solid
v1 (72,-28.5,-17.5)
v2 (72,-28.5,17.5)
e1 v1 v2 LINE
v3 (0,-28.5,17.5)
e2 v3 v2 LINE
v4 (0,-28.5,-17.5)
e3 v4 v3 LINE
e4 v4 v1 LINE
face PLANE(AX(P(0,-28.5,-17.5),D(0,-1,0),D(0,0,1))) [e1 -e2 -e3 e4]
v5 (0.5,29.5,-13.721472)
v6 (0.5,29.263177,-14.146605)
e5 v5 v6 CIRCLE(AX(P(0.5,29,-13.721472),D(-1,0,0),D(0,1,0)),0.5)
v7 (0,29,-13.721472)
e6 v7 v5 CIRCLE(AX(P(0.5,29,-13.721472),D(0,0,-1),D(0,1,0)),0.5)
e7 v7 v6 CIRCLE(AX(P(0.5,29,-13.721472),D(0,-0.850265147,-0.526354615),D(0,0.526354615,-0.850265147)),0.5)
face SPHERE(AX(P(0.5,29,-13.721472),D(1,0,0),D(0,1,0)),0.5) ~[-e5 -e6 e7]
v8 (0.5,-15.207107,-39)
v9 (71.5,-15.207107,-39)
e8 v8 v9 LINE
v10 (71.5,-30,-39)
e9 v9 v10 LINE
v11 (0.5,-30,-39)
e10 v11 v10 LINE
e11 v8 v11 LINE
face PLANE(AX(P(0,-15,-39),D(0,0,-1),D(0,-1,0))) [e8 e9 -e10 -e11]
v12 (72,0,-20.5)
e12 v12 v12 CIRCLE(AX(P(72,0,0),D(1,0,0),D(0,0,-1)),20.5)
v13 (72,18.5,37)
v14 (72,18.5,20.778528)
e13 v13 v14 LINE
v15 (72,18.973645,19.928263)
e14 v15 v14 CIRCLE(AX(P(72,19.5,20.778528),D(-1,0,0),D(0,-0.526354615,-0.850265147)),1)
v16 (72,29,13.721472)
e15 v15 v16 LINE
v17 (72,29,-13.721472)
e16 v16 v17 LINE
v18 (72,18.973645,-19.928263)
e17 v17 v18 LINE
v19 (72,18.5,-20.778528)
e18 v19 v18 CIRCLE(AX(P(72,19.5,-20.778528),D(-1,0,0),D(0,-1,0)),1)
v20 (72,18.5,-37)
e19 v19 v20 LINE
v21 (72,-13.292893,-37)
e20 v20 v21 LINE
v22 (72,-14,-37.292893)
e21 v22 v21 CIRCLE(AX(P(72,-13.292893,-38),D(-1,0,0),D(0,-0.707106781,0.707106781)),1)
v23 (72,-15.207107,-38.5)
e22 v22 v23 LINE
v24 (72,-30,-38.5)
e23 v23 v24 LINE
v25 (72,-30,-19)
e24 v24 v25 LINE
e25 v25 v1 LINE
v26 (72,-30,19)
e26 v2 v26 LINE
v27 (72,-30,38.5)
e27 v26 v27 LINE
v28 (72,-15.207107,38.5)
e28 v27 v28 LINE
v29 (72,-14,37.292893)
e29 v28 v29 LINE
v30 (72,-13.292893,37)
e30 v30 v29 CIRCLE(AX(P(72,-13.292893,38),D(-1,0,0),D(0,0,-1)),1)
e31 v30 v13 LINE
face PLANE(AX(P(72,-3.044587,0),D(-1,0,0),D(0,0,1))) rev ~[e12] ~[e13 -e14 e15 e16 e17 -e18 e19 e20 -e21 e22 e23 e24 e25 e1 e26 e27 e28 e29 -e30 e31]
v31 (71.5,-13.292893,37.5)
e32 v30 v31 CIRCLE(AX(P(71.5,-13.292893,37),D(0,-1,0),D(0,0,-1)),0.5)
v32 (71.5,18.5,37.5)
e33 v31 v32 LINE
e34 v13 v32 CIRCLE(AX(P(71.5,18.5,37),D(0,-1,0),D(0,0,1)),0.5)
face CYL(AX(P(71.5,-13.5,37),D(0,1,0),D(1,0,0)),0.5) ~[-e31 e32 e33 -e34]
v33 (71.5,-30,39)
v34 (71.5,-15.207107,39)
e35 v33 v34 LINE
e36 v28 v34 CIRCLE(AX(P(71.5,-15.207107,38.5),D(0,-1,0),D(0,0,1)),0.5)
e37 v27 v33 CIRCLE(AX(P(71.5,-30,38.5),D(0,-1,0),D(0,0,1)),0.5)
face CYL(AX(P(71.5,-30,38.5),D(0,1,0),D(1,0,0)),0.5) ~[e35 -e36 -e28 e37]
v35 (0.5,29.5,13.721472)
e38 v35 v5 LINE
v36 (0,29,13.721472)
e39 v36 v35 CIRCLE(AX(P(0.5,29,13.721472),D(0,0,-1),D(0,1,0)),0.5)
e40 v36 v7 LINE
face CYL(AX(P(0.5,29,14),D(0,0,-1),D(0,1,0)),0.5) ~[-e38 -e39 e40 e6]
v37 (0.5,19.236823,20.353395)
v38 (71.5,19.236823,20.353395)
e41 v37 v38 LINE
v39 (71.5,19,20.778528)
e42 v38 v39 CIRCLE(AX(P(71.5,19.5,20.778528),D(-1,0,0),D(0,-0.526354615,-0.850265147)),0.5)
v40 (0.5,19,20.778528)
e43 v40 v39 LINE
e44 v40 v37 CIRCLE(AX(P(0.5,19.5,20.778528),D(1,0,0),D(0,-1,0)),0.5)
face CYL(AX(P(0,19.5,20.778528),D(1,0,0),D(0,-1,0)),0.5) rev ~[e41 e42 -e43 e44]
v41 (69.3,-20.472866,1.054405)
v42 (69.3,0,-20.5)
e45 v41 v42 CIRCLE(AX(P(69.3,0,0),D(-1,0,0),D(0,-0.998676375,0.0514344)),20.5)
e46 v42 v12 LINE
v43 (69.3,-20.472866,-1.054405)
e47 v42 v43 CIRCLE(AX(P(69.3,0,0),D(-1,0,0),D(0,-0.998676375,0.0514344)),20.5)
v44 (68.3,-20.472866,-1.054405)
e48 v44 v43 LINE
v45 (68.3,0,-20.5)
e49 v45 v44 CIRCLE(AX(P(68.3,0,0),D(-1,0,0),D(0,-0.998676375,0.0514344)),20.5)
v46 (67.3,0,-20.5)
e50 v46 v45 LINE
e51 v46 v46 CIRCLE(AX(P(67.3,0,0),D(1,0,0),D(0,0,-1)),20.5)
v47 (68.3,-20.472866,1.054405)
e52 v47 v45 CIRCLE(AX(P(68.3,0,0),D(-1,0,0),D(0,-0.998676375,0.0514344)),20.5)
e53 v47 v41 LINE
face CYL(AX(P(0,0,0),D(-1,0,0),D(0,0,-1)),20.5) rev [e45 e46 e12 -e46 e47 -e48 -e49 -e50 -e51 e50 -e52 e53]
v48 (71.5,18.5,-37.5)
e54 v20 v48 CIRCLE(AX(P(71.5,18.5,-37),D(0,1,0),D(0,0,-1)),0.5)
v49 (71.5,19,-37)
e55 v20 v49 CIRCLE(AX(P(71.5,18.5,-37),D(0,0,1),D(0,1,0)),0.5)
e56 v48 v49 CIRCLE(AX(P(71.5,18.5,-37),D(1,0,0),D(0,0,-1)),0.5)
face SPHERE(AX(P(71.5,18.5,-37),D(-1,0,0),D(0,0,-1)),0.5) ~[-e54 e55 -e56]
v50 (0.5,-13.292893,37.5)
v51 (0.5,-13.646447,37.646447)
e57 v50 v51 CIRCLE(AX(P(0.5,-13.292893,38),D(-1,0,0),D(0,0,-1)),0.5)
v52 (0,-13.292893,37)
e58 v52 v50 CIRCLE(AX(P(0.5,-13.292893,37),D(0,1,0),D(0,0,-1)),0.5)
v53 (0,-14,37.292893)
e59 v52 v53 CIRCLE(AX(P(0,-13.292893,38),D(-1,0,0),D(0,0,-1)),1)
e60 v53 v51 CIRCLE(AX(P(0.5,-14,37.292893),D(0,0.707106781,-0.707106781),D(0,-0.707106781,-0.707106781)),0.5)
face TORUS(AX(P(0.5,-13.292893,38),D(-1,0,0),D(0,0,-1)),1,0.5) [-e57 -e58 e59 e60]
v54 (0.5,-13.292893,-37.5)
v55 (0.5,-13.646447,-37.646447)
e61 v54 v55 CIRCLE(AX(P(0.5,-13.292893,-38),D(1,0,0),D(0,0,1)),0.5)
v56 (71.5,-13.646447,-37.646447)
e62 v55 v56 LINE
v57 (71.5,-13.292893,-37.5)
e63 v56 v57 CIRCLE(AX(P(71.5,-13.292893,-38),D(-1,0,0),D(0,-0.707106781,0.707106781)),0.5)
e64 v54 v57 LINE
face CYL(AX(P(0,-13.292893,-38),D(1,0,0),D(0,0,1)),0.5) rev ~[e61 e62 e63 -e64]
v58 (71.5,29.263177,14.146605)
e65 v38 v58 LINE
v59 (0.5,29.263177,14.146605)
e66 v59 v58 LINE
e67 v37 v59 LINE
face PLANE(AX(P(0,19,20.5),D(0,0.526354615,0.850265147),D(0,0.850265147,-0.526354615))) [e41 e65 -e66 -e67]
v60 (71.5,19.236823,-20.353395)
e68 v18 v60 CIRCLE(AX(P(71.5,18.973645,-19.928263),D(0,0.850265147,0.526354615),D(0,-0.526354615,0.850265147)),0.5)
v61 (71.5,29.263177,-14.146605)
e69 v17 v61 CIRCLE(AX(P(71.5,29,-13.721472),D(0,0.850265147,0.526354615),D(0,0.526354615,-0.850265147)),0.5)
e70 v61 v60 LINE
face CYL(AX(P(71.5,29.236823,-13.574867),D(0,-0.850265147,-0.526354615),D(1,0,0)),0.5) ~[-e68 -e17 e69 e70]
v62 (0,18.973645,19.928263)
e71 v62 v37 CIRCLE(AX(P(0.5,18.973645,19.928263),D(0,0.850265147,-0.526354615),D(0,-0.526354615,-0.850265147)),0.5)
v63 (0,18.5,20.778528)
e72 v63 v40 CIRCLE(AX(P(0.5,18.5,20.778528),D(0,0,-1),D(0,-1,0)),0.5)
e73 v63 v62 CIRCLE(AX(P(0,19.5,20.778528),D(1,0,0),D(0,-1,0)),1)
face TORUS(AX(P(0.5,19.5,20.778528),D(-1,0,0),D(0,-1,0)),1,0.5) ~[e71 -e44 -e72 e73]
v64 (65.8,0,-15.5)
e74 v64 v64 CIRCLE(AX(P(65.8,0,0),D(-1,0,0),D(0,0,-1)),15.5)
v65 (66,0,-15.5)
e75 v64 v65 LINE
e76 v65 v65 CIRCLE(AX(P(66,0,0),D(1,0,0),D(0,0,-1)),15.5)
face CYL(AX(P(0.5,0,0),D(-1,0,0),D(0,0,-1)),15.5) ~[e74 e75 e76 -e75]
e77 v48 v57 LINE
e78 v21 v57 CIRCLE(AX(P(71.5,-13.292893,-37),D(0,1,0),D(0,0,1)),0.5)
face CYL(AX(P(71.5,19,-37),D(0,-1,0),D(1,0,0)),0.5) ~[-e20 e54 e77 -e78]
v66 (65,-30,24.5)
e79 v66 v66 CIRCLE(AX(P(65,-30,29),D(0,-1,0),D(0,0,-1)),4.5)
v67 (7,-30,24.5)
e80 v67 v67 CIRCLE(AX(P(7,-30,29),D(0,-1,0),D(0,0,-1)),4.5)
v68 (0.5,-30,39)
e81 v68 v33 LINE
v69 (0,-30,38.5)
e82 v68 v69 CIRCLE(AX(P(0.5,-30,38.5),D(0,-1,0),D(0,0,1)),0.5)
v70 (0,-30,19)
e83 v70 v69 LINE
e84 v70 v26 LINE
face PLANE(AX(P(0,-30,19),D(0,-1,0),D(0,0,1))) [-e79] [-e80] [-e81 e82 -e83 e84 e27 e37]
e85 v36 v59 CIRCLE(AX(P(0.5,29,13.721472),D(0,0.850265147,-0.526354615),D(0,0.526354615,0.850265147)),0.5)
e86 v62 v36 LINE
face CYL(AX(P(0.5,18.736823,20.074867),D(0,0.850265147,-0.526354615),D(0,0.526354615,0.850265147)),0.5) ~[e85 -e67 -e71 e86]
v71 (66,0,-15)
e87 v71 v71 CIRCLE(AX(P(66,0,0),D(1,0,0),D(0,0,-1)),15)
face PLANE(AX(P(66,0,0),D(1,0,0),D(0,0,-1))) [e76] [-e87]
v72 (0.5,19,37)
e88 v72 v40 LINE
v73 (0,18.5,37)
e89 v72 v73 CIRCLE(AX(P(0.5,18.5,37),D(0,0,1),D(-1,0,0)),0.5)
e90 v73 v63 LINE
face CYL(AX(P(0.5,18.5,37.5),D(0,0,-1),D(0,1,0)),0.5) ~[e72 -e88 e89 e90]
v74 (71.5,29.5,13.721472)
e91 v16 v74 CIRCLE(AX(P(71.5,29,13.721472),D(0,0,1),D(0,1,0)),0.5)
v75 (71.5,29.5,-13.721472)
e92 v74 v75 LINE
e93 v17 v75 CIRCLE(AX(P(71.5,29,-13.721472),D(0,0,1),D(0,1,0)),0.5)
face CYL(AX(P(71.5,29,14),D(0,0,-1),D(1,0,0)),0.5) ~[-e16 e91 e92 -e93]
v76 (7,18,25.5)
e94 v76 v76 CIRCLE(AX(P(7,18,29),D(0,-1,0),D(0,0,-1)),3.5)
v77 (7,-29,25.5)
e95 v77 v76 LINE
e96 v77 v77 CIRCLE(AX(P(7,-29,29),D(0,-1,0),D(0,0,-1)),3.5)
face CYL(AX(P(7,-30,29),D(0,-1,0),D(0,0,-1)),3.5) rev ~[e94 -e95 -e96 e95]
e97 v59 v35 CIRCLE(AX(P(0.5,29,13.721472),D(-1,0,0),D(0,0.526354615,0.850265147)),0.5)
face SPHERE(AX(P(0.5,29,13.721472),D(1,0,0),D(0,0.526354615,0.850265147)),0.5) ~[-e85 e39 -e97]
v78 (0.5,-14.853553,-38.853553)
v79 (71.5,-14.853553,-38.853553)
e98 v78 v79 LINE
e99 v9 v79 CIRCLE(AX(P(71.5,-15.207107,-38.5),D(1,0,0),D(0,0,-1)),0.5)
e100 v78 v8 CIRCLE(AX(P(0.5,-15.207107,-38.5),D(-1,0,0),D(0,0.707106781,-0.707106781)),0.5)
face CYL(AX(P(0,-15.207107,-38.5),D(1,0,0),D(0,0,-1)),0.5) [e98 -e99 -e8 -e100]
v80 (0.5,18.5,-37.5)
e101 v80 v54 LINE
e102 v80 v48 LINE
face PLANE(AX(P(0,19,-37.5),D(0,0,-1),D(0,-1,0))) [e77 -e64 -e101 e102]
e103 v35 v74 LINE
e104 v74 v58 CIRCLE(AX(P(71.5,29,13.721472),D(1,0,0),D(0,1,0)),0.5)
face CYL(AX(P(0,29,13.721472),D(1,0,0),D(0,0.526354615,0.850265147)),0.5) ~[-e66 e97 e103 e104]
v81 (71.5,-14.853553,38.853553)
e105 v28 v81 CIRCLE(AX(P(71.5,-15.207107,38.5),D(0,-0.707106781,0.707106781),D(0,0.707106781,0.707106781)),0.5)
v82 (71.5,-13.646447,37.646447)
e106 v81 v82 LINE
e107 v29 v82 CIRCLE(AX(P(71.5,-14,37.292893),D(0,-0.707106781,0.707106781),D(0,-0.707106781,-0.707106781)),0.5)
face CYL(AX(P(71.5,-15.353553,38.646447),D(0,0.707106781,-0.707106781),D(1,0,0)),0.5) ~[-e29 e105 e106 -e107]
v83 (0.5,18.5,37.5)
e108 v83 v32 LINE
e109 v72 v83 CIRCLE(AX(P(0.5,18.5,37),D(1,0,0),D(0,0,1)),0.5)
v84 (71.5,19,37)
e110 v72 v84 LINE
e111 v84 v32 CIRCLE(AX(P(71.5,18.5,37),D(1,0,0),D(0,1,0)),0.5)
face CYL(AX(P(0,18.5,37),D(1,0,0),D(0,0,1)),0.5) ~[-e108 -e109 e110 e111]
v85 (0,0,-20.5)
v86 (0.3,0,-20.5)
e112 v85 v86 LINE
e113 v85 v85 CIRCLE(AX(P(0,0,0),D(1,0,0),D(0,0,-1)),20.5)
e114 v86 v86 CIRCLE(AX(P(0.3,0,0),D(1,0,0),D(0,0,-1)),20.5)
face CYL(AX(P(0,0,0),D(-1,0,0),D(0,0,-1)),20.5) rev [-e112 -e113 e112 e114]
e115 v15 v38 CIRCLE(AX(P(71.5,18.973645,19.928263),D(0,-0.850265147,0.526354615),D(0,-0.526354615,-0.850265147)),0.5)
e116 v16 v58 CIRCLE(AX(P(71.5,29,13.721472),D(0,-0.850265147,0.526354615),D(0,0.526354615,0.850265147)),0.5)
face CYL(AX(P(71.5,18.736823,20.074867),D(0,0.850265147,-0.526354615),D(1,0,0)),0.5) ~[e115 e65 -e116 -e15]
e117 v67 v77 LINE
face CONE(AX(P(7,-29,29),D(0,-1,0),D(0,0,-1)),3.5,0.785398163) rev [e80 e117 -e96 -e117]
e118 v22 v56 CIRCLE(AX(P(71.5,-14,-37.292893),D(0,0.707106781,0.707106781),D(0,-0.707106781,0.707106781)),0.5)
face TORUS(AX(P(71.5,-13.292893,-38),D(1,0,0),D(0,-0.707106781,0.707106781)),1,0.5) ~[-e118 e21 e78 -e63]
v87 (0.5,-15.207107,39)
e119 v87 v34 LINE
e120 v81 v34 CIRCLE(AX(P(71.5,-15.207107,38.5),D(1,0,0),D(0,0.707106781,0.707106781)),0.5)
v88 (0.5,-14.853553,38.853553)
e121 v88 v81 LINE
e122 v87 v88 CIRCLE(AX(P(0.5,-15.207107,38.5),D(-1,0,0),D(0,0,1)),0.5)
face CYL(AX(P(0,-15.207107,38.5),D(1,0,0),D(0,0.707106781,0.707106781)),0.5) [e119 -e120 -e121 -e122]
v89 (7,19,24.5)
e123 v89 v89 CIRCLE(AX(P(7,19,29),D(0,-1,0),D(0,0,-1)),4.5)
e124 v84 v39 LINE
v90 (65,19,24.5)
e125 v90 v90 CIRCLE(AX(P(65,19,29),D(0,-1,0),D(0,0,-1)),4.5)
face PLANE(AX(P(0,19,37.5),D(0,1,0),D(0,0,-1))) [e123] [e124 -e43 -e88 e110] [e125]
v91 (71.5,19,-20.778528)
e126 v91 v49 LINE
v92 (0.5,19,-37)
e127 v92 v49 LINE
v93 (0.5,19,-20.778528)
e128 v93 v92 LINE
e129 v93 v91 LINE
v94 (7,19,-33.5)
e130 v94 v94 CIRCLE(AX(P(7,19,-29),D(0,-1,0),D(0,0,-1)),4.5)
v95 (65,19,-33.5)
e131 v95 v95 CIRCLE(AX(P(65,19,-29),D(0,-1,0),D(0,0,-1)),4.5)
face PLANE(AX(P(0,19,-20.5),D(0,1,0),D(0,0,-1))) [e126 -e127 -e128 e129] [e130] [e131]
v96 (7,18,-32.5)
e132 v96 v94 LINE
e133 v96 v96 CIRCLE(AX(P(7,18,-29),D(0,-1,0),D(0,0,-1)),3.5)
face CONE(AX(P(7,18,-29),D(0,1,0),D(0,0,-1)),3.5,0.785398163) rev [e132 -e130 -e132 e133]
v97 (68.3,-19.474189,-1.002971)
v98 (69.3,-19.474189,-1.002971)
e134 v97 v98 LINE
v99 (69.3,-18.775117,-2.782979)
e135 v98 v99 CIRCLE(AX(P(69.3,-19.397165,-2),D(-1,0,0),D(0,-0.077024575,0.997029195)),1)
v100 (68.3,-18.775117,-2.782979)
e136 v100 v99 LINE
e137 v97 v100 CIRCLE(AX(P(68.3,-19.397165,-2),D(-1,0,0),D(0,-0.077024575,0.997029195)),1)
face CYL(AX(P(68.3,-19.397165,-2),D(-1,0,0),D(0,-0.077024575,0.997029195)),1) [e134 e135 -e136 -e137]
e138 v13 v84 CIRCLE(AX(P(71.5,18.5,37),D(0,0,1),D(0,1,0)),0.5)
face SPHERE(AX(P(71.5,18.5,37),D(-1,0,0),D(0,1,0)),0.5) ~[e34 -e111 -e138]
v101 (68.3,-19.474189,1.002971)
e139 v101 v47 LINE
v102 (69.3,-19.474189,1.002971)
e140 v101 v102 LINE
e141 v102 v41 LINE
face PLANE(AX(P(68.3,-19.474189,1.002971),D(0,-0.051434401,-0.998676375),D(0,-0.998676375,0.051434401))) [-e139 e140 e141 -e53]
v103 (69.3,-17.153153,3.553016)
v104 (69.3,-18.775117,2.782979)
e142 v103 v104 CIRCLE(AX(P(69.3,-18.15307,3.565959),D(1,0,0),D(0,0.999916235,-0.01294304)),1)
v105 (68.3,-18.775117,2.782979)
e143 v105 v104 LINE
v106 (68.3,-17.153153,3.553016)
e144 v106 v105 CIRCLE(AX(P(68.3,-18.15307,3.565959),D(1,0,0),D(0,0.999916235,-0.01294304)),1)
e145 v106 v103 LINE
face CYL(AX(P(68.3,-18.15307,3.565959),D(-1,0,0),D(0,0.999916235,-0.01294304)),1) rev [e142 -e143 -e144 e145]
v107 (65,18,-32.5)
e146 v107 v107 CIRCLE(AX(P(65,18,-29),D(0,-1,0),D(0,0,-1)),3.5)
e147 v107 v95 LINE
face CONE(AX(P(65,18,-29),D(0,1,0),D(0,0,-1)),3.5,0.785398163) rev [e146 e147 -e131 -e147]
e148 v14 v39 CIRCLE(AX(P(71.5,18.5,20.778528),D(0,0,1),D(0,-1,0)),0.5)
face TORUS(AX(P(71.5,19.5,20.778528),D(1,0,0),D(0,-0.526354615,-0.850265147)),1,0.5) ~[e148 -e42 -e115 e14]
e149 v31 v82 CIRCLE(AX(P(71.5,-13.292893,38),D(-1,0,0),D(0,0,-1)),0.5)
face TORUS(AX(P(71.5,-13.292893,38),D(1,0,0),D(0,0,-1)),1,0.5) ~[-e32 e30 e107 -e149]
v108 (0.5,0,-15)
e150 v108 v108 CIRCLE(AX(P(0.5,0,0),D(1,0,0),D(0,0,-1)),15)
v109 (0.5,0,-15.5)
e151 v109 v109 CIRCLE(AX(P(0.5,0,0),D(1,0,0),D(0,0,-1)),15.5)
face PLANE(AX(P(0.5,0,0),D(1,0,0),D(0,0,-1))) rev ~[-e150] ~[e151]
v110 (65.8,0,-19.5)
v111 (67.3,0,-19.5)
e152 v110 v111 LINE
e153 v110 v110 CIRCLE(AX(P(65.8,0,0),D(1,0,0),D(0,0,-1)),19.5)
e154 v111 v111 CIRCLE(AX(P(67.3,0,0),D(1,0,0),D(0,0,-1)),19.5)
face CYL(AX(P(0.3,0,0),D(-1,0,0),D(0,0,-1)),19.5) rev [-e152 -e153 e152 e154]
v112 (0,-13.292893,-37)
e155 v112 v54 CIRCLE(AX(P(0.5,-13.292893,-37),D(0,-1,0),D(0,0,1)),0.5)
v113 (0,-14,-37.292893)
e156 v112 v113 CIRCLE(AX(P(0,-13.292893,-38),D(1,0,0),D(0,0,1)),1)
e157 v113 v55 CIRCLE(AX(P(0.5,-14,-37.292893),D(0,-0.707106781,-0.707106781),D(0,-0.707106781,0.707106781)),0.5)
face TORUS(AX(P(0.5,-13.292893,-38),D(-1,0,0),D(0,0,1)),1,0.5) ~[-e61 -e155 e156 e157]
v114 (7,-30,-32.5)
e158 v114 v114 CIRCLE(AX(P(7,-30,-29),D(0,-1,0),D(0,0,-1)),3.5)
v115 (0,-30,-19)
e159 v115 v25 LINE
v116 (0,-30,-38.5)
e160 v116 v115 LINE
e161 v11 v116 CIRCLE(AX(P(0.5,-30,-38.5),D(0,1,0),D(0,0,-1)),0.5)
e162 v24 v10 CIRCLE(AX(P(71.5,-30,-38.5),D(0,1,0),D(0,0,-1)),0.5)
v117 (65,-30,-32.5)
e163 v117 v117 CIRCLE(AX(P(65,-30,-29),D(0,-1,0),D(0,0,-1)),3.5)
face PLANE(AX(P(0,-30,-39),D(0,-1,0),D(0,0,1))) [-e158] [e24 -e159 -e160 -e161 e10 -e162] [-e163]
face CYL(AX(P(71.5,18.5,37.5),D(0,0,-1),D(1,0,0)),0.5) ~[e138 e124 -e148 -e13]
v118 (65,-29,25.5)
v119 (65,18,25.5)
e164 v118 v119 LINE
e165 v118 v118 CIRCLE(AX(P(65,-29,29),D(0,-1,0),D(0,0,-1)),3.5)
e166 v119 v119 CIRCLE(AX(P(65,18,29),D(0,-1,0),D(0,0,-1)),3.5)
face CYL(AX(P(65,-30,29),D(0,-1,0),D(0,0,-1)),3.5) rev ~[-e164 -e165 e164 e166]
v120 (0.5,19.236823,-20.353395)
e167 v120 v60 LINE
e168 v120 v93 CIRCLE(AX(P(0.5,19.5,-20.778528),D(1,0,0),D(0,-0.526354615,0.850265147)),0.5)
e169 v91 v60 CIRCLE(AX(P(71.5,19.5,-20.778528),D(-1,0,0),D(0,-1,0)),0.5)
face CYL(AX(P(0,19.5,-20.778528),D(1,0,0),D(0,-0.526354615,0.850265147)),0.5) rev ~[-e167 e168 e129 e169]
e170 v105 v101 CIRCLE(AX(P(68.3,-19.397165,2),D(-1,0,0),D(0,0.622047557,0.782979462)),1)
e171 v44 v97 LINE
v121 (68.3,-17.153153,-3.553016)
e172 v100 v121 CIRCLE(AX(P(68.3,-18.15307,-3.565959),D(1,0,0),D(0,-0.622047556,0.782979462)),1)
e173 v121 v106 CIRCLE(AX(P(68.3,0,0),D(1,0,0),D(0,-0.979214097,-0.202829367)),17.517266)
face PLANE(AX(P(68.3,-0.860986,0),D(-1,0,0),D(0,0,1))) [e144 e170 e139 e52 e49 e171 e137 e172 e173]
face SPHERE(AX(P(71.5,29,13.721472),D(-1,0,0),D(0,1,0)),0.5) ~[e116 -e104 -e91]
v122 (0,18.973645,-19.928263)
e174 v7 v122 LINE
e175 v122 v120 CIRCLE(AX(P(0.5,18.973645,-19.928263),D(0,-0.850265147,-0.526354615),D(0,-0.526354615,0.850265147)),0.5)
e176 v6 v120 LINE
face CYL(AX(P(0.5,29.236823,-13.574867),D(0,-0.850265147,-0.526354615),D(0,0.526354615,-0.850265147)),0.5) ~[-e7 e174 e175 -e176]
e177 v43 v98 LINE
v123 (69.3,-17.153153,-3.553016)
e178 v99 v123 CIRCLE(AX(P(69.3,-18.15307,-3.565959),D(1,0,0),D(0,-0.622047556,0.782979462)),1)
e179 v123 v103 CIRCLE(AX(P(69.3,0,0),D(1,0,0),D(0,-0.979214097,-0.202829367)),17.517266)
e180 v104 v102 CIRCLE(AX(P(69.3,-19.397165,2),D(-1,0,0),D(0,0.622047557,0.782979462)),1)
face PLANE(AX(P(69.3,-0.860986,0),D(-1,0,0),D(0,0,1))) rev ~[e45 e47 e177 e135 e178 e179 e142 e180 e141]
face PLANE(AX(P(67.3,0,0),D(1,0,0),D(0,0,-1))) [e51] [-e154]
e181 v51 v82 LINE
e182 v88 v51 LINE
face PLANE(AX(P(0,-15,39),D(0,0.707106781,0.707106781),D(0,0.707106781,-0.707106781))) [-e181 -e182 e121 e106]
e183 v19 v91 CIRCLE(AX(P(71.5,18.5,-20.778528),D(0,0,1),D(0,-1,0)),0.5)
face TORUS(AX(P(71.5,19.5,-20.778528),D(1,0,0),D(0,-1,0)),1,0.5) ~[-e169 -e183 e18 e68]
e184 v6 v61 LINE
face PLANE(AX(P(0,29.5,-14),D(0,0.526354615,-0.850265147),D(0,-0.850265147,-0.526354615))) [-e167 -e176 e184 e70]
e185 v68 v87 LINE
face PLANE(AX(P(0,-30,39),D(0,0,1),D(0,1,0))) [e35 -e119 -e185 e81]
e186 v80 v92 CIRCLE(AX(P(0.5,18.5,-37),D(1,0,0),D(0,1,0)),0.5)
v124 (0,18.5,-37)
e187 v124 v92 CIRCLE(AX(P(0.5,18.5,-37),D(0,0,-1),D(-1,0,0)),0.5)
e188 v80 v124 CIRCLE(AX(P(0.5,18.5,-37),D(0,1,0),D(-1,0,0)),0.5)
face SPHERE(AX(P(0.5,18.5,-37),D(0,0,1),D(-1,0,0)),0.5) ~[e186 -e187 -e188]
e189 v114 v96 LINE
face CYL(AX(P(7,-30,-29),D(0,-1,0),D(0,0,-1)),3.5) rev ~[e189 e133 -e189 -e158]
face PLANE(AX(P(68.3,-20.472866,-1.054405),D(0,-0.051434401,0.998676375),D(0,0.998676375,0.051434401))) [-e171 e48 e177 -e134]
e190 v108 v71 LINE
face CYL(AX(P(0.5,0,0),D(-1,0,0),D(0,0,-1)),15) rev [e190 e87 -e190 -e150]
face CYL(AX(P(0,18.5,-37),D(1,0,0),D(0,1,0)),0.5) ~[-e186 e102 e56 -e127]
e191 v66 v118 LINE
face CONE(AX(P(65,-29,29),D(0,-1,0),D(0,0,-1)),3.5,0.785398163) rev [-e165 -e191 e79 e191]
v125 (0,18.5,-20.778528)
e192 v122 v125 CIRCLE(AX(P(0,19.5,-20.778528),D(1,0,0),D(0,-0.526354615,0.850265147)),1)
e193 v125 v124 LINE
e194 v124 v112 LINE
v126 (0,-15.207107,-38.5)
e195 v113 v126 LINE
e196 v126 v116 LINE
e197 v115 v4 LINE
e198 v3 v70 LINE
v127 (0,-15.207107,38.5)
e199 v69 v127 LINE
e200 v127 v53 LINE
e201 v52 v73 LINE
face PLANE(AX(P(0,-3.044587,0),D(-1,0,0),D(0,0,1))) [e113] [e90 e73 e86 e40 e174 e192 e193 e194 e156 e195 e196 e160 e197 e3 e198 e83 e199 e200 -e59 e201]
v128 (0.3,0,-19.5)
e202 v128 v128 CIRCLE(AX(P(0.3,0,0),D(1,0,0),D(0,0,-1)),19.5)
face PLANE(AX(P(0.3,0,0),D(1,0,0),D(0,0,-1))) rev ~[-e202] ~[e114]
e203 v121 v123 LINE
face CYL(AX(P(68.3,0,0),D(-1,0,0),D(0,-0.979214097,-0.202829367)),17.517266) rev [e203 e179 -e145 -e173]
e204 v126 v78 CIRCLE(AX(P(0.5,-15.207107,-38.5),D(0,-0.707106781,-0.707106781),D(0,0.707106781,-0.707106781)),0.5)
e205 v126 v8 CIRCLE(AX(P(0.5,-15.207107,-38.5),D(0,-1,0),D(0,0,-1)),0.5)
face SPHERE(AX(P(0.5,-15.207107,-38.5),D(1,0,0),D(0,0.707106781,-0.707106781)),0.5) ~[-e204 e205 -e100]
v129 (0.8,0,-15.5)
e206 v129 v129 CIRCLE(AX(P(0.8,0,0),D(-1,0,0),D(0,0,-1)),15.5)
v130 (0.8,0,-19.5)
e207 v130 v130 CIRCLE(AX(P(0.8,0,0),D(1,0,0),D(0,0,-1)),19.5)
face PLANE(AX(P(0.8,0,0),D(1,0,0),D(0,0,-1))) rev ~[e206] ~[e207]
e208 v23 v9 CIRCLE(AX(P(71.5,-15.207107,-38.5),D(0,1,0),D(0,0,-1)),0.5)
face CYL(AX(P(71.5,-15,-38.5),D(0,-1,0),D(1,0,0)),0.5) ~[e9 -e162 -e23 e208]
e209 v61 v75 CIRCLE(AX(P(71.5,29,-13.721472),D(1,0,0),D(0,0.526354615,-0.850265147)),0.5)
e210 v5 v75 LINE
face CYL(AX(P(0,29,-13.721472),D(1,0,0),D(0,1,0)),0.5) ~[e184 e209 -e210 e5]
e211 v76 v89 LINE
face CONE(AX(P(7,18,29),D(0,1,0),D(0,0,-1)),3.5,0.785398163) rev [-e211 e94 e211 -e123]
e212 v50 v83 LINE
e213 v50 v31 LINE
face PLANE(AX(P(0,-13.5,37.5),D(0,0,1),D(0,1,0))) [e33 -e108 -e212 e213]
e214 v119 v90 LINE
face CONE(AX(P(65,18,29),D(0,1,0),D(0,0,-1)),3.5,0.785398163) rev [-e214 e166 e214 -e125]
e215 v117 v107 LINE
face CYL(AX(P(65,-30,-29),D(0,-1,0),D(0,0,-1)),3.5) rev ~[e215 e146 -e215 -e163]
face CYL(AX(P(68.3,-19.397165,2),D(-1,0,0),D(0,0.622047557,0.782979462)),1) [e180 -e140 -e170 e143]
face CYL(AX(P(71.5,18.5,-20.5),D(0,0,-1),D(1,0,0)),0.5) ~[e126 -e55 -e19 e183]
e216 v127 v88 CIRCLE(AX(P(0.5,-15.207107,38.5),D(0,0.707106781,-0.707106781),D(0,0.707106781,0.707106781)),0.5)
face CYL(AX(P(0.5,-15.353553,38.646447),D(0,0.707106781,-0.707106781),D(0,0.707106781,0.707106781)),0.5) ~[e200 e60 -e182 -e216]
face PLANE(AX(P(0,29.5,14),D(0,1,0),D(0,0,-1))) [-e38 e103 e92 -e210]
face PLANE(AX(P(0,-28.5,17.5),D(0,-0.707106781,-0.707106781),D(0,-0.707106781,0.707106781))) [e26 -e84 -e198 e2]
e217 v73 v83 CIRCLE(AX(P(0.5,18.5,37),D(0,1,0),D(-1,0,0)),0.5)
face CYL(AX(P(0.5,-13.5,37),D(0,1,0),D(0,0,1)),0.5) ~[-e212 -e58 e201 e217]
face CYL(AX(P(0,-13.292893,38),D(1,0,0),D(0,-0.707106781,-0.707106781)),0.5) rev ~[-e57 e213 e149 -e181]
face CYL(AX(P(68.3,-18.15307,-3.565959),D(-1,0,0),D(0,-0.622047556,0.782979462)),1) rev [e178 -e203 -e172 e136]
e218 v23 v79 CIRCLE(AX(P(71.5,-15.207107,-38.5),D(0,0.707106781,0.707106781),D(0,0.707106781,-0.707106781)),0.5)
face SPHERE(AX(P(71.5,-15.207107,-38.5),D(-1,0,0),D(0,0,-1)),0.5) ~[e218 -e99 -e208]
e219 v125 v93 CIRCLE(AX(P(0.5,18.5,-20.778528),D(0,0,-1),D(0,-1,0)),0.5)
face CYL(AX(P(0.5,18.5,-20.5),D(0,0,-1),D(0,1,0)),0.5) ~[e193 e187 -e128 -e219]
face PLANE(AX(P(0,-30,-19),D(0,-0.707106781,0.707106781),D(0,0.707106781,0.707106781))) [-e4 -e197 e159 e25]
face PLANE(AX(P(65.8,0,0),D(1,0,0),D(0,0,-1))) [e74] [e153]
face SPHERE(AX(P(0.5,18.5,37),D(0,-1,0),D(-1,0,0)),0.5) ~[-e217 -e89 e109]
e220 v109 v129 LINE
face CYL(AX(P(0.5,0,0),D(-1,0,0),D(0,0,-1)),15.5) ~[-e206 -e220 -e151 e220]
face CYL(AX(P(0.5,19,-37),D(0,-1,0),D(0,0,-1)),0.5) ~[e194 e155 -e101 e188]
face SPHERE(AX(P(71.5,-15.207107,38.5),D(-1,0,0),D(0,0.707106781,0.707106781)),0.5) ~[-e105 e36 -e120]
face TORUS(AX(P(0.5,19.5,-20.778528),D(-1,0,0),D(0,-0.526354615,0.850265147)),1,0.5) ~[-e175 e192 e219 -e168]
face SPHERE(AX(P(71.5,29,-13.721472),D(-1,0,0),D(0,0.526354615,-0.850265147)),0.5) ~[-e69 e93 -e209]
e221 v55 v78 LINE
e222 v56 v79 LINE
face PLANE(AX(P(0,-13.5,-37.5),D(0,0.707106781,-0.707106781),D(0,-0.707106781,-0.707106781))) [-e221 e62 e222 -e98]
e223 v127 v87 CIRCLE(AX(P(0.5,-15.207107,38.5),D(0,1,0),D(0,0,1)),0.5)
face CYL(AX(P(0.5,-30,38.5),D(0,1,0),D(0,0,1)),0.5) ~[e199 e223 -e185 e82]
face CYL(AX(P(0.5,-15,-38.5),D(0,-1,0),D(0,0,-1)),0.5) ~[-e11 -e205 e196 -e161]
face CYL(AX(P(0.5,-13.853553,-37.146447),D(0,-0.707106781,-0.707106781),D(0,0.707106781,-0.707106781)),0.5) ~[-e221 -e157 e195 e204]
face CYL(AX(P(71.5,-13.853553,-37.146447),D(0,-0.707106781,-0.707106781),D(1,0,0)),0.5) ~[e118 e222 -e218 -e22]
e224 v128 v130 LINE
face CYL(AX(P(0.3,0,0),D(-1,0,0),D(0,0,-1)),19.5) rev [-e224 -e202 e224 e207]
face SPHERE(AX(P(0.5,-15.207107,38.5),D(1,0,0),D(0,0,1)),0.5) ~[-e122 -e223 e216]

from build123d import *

# Parameters (mm, degrees)
SKETCH1_R           = 20.5
BOSS_EXTRUDE1_DEPTH = 72
EXTRUDE_THIN1_START = 0.5
SKETCH1_4_R         = 15.5
SKETCH1_4_R_2       = 15
EXTRUDE_THIN1_DEPTH = 65.5
BOSS_EXTRUDE2_START = 0.8
SKETCH1_5_R         = 19.5
SKETCH1_5_R_2       = 15
BOSS_EXTRUDE2_DEPTH = 65
BOSS_EXTRUDE3_START = 0.3
SKETCH1_6_R         = 20.5
SKETCH1_6_R_2       = 19.5
BOSS_EXTRUDE3_DEPTH = 67
BOSS_EXTRUDE4_START = 1
BOSS_EXTRUDE4_DEPTH = 1
FILLET1_R           = 0.5
SKETCH4_R           = 3.5
CUT_EXTRUDE3_DEPTH  = 102.218822431
CHAMFER1_SIZE       = 1


with BuildPart() as part:
    # Sketch1 → Boss-Extrude1 (new body)
    with BuildSketch(Plane(origin=(0, 0, 0), x_dir=(0, 0, -1), z_dir=(1, 0, 0))):
        Polygon((-39, -30), (-19, -30), (-17.5, -28.5), (17.5, -28.5), (19, -30), (39, -30), (39, -15), (37.5, -13.5), (37.5, 19), (20.5, 19), (14, 29.5), (-14, 29.5), (-20.5, 19), (-37.5, 19), (-37.5, -13.5), (-39, -15), align=None)
        Circle(SKETCH1_R, mode=Mode.SUBTRACT)
    extrude(amount=BOSS_EXTRUDE1_DEPTH)



with BuildPart() as body_2:
    # Sketch1<4> → Extrude-Thin1 (new body)
    with BuildSketch(Plane(origin=(0, 0, 0), x_dir=(0, 0, -1), z_dir=(1, 0, 0)).offset(EXTRUDE_THIN1_START)):
        Circle(SKETCH1_4_R)
        Circle(SKETCH1_4_R_2, mode=Mode.SUBTRACT)
    extrude(amount=EXTRUDE_THIN1_DEPTH)

    # Sketch1<5> → Boss-Extrude2 (add)
    with BuildSketch(Plane(origin=(0, 0, 0), x_dir=(0, 0, -1), z_dir=(1, 0, 0)).offset(BOSS_EXTRUDE2_START)):
        Circle(SKETCH1_5_R)
        Circle(SKETCH1_5_R_2, mode=Mode.SUBTRACT)
    extrude(amount=BOSS_EXTRUDE2_DEPTH)


with BuildPart() as part_1:
    add(part.part)

    add(body_2.part)  # Boss-Extrude3 merges body 2
    # Sketch1<6> → Boss-Extrude3 (add)
    with BuildSketch(Plane(origin=(0, 0, 0), x_dir=(0, 0, -1), z_dir=(1, 0, 0)).offset(BOSS_EXTRUDE3_START)):
        Circle(SKETCH1_6_R)
        Circle(SKETCH1_6_R_2, mode=Mode.SUBTRACT)
    extrude(amount=BOSS_EXTRUDE3_DEPTH)

    # Sketch3 → Boss-Extrude4 (add)
    with BuildSketch(Plane(origin=(67.3, 0, 0), x_dir=(0, 0, -1), z_dir=(1, 0, 0)).offset(BOSS_EXTRUDE4_START)):
        with BuildLine():
            Line((-1.002970805, -19.474189317), (-1.054405206, -20.472865692))
            ThreePointArc((-1.054405206, -20.472865692), (0, 20.5), (1.054405206, -20.472865692))
            Line((1.054405206, -20.472865692), (1.002970805, -19.474189317))
            ThreePointArc((1.002970805, -19.474189317), (1.634445923, -18.466374638), (2.782979462, -18.775117185))
            ThreePointArc((2.782979462, -18.775117185), (4.46932197, -18.58194631), (3.553015884, -17.153153394))
            ThreePointArc((3.553015884, -17.153153394), (0, 17.517265575), (-3.553015884, -17.153153394))
            ThreePointArc((-3.553015884, -17.153153394), (-4.46932197, -18.58194631), (-2.782979462, -18.775117185))
            ThreePointArc((-2.782979462, -18.775117185), (-1.634445923, -18.466374638), (-1.002970805, -19.474189317))
        make_face()
    extrude(amount=BOSS_EXTRUDE4_DEPTH)

    # Fillet1
    fillet1_edges = [part_1.edges().sort_by_distance(p)[0] for p in [
        (36, -13.5, -37.5),
        (36, -13.5, 37.5),
        (36, -15, 39),
        (36, -15, -39),
        (36, 19, -20.5),
        (36, 19, 20.5),
        (36, 29.5, 14),
        (36, 29.5, -14),
        (36, 19, -37.5),
        (36, 19, 37.5),
        (72, 24.25, -17.25),
        (72, 24.25, 17.25),
        (72, 2.75, 37.5),
        (0, -14.25, 38.25),
        (0, 24.25, 17.25),
        (72, -14.25, -38.25),
        (72, -22.5, -39),
        (72, 2.75, -37.5),
        (72, 29.5, 0),
        (72, 19, -29),
        (72, 19, 29),
        (72, -14.25, 38.25),
        (72, -22.5, 39),
        (0, -22.5, -39),
        (0, -14.25, -38.25),
        (0, 2.75, -37.5),
        (0, 24.25, -17.25),
        (0, 19, -29),
        (0, 29.5, 0),
        (0, -22.5, 39),
        (0, 2.75, 37.5),
        (0, 19, 29),
    ]]
    fillet(fillet1_edges, radius=FILLET1_R)

    # Sketch4 → Cut-Extrude3 (cut, through all)
    with BuildSketch(Plane.XZ.offset(30)):
        with Locations((7, 29)):
            Circle(SKETCH4_R)
        with Locations((65, 29)):
            Circle(SKETCH4_R)
        with Locations((65, -29)):
            Circle(SKETCH4_R)
        with Locations((7, -29)):
            Circle(SKETCH4_R)
    extrude(amount=-CUT_EXTRUDE3_DEPTH, mode=Mode.SUBTRACT)

    # Chamfer1
    chamfer1_edges = [part_1.edges().sort_by_distance(p)[0] for p in [
        (61.5, 19, -29),
        (3.5, 19, -29),
        (3.5, 19, 29),
        (61.5, 19, 29),
        (61.5, -30, 29),
        (3.5, -30, 29),
    ]]
    chamfer(chamfer1_edges, length=CHAMFER1_SIZE)


solid = part_1.part
